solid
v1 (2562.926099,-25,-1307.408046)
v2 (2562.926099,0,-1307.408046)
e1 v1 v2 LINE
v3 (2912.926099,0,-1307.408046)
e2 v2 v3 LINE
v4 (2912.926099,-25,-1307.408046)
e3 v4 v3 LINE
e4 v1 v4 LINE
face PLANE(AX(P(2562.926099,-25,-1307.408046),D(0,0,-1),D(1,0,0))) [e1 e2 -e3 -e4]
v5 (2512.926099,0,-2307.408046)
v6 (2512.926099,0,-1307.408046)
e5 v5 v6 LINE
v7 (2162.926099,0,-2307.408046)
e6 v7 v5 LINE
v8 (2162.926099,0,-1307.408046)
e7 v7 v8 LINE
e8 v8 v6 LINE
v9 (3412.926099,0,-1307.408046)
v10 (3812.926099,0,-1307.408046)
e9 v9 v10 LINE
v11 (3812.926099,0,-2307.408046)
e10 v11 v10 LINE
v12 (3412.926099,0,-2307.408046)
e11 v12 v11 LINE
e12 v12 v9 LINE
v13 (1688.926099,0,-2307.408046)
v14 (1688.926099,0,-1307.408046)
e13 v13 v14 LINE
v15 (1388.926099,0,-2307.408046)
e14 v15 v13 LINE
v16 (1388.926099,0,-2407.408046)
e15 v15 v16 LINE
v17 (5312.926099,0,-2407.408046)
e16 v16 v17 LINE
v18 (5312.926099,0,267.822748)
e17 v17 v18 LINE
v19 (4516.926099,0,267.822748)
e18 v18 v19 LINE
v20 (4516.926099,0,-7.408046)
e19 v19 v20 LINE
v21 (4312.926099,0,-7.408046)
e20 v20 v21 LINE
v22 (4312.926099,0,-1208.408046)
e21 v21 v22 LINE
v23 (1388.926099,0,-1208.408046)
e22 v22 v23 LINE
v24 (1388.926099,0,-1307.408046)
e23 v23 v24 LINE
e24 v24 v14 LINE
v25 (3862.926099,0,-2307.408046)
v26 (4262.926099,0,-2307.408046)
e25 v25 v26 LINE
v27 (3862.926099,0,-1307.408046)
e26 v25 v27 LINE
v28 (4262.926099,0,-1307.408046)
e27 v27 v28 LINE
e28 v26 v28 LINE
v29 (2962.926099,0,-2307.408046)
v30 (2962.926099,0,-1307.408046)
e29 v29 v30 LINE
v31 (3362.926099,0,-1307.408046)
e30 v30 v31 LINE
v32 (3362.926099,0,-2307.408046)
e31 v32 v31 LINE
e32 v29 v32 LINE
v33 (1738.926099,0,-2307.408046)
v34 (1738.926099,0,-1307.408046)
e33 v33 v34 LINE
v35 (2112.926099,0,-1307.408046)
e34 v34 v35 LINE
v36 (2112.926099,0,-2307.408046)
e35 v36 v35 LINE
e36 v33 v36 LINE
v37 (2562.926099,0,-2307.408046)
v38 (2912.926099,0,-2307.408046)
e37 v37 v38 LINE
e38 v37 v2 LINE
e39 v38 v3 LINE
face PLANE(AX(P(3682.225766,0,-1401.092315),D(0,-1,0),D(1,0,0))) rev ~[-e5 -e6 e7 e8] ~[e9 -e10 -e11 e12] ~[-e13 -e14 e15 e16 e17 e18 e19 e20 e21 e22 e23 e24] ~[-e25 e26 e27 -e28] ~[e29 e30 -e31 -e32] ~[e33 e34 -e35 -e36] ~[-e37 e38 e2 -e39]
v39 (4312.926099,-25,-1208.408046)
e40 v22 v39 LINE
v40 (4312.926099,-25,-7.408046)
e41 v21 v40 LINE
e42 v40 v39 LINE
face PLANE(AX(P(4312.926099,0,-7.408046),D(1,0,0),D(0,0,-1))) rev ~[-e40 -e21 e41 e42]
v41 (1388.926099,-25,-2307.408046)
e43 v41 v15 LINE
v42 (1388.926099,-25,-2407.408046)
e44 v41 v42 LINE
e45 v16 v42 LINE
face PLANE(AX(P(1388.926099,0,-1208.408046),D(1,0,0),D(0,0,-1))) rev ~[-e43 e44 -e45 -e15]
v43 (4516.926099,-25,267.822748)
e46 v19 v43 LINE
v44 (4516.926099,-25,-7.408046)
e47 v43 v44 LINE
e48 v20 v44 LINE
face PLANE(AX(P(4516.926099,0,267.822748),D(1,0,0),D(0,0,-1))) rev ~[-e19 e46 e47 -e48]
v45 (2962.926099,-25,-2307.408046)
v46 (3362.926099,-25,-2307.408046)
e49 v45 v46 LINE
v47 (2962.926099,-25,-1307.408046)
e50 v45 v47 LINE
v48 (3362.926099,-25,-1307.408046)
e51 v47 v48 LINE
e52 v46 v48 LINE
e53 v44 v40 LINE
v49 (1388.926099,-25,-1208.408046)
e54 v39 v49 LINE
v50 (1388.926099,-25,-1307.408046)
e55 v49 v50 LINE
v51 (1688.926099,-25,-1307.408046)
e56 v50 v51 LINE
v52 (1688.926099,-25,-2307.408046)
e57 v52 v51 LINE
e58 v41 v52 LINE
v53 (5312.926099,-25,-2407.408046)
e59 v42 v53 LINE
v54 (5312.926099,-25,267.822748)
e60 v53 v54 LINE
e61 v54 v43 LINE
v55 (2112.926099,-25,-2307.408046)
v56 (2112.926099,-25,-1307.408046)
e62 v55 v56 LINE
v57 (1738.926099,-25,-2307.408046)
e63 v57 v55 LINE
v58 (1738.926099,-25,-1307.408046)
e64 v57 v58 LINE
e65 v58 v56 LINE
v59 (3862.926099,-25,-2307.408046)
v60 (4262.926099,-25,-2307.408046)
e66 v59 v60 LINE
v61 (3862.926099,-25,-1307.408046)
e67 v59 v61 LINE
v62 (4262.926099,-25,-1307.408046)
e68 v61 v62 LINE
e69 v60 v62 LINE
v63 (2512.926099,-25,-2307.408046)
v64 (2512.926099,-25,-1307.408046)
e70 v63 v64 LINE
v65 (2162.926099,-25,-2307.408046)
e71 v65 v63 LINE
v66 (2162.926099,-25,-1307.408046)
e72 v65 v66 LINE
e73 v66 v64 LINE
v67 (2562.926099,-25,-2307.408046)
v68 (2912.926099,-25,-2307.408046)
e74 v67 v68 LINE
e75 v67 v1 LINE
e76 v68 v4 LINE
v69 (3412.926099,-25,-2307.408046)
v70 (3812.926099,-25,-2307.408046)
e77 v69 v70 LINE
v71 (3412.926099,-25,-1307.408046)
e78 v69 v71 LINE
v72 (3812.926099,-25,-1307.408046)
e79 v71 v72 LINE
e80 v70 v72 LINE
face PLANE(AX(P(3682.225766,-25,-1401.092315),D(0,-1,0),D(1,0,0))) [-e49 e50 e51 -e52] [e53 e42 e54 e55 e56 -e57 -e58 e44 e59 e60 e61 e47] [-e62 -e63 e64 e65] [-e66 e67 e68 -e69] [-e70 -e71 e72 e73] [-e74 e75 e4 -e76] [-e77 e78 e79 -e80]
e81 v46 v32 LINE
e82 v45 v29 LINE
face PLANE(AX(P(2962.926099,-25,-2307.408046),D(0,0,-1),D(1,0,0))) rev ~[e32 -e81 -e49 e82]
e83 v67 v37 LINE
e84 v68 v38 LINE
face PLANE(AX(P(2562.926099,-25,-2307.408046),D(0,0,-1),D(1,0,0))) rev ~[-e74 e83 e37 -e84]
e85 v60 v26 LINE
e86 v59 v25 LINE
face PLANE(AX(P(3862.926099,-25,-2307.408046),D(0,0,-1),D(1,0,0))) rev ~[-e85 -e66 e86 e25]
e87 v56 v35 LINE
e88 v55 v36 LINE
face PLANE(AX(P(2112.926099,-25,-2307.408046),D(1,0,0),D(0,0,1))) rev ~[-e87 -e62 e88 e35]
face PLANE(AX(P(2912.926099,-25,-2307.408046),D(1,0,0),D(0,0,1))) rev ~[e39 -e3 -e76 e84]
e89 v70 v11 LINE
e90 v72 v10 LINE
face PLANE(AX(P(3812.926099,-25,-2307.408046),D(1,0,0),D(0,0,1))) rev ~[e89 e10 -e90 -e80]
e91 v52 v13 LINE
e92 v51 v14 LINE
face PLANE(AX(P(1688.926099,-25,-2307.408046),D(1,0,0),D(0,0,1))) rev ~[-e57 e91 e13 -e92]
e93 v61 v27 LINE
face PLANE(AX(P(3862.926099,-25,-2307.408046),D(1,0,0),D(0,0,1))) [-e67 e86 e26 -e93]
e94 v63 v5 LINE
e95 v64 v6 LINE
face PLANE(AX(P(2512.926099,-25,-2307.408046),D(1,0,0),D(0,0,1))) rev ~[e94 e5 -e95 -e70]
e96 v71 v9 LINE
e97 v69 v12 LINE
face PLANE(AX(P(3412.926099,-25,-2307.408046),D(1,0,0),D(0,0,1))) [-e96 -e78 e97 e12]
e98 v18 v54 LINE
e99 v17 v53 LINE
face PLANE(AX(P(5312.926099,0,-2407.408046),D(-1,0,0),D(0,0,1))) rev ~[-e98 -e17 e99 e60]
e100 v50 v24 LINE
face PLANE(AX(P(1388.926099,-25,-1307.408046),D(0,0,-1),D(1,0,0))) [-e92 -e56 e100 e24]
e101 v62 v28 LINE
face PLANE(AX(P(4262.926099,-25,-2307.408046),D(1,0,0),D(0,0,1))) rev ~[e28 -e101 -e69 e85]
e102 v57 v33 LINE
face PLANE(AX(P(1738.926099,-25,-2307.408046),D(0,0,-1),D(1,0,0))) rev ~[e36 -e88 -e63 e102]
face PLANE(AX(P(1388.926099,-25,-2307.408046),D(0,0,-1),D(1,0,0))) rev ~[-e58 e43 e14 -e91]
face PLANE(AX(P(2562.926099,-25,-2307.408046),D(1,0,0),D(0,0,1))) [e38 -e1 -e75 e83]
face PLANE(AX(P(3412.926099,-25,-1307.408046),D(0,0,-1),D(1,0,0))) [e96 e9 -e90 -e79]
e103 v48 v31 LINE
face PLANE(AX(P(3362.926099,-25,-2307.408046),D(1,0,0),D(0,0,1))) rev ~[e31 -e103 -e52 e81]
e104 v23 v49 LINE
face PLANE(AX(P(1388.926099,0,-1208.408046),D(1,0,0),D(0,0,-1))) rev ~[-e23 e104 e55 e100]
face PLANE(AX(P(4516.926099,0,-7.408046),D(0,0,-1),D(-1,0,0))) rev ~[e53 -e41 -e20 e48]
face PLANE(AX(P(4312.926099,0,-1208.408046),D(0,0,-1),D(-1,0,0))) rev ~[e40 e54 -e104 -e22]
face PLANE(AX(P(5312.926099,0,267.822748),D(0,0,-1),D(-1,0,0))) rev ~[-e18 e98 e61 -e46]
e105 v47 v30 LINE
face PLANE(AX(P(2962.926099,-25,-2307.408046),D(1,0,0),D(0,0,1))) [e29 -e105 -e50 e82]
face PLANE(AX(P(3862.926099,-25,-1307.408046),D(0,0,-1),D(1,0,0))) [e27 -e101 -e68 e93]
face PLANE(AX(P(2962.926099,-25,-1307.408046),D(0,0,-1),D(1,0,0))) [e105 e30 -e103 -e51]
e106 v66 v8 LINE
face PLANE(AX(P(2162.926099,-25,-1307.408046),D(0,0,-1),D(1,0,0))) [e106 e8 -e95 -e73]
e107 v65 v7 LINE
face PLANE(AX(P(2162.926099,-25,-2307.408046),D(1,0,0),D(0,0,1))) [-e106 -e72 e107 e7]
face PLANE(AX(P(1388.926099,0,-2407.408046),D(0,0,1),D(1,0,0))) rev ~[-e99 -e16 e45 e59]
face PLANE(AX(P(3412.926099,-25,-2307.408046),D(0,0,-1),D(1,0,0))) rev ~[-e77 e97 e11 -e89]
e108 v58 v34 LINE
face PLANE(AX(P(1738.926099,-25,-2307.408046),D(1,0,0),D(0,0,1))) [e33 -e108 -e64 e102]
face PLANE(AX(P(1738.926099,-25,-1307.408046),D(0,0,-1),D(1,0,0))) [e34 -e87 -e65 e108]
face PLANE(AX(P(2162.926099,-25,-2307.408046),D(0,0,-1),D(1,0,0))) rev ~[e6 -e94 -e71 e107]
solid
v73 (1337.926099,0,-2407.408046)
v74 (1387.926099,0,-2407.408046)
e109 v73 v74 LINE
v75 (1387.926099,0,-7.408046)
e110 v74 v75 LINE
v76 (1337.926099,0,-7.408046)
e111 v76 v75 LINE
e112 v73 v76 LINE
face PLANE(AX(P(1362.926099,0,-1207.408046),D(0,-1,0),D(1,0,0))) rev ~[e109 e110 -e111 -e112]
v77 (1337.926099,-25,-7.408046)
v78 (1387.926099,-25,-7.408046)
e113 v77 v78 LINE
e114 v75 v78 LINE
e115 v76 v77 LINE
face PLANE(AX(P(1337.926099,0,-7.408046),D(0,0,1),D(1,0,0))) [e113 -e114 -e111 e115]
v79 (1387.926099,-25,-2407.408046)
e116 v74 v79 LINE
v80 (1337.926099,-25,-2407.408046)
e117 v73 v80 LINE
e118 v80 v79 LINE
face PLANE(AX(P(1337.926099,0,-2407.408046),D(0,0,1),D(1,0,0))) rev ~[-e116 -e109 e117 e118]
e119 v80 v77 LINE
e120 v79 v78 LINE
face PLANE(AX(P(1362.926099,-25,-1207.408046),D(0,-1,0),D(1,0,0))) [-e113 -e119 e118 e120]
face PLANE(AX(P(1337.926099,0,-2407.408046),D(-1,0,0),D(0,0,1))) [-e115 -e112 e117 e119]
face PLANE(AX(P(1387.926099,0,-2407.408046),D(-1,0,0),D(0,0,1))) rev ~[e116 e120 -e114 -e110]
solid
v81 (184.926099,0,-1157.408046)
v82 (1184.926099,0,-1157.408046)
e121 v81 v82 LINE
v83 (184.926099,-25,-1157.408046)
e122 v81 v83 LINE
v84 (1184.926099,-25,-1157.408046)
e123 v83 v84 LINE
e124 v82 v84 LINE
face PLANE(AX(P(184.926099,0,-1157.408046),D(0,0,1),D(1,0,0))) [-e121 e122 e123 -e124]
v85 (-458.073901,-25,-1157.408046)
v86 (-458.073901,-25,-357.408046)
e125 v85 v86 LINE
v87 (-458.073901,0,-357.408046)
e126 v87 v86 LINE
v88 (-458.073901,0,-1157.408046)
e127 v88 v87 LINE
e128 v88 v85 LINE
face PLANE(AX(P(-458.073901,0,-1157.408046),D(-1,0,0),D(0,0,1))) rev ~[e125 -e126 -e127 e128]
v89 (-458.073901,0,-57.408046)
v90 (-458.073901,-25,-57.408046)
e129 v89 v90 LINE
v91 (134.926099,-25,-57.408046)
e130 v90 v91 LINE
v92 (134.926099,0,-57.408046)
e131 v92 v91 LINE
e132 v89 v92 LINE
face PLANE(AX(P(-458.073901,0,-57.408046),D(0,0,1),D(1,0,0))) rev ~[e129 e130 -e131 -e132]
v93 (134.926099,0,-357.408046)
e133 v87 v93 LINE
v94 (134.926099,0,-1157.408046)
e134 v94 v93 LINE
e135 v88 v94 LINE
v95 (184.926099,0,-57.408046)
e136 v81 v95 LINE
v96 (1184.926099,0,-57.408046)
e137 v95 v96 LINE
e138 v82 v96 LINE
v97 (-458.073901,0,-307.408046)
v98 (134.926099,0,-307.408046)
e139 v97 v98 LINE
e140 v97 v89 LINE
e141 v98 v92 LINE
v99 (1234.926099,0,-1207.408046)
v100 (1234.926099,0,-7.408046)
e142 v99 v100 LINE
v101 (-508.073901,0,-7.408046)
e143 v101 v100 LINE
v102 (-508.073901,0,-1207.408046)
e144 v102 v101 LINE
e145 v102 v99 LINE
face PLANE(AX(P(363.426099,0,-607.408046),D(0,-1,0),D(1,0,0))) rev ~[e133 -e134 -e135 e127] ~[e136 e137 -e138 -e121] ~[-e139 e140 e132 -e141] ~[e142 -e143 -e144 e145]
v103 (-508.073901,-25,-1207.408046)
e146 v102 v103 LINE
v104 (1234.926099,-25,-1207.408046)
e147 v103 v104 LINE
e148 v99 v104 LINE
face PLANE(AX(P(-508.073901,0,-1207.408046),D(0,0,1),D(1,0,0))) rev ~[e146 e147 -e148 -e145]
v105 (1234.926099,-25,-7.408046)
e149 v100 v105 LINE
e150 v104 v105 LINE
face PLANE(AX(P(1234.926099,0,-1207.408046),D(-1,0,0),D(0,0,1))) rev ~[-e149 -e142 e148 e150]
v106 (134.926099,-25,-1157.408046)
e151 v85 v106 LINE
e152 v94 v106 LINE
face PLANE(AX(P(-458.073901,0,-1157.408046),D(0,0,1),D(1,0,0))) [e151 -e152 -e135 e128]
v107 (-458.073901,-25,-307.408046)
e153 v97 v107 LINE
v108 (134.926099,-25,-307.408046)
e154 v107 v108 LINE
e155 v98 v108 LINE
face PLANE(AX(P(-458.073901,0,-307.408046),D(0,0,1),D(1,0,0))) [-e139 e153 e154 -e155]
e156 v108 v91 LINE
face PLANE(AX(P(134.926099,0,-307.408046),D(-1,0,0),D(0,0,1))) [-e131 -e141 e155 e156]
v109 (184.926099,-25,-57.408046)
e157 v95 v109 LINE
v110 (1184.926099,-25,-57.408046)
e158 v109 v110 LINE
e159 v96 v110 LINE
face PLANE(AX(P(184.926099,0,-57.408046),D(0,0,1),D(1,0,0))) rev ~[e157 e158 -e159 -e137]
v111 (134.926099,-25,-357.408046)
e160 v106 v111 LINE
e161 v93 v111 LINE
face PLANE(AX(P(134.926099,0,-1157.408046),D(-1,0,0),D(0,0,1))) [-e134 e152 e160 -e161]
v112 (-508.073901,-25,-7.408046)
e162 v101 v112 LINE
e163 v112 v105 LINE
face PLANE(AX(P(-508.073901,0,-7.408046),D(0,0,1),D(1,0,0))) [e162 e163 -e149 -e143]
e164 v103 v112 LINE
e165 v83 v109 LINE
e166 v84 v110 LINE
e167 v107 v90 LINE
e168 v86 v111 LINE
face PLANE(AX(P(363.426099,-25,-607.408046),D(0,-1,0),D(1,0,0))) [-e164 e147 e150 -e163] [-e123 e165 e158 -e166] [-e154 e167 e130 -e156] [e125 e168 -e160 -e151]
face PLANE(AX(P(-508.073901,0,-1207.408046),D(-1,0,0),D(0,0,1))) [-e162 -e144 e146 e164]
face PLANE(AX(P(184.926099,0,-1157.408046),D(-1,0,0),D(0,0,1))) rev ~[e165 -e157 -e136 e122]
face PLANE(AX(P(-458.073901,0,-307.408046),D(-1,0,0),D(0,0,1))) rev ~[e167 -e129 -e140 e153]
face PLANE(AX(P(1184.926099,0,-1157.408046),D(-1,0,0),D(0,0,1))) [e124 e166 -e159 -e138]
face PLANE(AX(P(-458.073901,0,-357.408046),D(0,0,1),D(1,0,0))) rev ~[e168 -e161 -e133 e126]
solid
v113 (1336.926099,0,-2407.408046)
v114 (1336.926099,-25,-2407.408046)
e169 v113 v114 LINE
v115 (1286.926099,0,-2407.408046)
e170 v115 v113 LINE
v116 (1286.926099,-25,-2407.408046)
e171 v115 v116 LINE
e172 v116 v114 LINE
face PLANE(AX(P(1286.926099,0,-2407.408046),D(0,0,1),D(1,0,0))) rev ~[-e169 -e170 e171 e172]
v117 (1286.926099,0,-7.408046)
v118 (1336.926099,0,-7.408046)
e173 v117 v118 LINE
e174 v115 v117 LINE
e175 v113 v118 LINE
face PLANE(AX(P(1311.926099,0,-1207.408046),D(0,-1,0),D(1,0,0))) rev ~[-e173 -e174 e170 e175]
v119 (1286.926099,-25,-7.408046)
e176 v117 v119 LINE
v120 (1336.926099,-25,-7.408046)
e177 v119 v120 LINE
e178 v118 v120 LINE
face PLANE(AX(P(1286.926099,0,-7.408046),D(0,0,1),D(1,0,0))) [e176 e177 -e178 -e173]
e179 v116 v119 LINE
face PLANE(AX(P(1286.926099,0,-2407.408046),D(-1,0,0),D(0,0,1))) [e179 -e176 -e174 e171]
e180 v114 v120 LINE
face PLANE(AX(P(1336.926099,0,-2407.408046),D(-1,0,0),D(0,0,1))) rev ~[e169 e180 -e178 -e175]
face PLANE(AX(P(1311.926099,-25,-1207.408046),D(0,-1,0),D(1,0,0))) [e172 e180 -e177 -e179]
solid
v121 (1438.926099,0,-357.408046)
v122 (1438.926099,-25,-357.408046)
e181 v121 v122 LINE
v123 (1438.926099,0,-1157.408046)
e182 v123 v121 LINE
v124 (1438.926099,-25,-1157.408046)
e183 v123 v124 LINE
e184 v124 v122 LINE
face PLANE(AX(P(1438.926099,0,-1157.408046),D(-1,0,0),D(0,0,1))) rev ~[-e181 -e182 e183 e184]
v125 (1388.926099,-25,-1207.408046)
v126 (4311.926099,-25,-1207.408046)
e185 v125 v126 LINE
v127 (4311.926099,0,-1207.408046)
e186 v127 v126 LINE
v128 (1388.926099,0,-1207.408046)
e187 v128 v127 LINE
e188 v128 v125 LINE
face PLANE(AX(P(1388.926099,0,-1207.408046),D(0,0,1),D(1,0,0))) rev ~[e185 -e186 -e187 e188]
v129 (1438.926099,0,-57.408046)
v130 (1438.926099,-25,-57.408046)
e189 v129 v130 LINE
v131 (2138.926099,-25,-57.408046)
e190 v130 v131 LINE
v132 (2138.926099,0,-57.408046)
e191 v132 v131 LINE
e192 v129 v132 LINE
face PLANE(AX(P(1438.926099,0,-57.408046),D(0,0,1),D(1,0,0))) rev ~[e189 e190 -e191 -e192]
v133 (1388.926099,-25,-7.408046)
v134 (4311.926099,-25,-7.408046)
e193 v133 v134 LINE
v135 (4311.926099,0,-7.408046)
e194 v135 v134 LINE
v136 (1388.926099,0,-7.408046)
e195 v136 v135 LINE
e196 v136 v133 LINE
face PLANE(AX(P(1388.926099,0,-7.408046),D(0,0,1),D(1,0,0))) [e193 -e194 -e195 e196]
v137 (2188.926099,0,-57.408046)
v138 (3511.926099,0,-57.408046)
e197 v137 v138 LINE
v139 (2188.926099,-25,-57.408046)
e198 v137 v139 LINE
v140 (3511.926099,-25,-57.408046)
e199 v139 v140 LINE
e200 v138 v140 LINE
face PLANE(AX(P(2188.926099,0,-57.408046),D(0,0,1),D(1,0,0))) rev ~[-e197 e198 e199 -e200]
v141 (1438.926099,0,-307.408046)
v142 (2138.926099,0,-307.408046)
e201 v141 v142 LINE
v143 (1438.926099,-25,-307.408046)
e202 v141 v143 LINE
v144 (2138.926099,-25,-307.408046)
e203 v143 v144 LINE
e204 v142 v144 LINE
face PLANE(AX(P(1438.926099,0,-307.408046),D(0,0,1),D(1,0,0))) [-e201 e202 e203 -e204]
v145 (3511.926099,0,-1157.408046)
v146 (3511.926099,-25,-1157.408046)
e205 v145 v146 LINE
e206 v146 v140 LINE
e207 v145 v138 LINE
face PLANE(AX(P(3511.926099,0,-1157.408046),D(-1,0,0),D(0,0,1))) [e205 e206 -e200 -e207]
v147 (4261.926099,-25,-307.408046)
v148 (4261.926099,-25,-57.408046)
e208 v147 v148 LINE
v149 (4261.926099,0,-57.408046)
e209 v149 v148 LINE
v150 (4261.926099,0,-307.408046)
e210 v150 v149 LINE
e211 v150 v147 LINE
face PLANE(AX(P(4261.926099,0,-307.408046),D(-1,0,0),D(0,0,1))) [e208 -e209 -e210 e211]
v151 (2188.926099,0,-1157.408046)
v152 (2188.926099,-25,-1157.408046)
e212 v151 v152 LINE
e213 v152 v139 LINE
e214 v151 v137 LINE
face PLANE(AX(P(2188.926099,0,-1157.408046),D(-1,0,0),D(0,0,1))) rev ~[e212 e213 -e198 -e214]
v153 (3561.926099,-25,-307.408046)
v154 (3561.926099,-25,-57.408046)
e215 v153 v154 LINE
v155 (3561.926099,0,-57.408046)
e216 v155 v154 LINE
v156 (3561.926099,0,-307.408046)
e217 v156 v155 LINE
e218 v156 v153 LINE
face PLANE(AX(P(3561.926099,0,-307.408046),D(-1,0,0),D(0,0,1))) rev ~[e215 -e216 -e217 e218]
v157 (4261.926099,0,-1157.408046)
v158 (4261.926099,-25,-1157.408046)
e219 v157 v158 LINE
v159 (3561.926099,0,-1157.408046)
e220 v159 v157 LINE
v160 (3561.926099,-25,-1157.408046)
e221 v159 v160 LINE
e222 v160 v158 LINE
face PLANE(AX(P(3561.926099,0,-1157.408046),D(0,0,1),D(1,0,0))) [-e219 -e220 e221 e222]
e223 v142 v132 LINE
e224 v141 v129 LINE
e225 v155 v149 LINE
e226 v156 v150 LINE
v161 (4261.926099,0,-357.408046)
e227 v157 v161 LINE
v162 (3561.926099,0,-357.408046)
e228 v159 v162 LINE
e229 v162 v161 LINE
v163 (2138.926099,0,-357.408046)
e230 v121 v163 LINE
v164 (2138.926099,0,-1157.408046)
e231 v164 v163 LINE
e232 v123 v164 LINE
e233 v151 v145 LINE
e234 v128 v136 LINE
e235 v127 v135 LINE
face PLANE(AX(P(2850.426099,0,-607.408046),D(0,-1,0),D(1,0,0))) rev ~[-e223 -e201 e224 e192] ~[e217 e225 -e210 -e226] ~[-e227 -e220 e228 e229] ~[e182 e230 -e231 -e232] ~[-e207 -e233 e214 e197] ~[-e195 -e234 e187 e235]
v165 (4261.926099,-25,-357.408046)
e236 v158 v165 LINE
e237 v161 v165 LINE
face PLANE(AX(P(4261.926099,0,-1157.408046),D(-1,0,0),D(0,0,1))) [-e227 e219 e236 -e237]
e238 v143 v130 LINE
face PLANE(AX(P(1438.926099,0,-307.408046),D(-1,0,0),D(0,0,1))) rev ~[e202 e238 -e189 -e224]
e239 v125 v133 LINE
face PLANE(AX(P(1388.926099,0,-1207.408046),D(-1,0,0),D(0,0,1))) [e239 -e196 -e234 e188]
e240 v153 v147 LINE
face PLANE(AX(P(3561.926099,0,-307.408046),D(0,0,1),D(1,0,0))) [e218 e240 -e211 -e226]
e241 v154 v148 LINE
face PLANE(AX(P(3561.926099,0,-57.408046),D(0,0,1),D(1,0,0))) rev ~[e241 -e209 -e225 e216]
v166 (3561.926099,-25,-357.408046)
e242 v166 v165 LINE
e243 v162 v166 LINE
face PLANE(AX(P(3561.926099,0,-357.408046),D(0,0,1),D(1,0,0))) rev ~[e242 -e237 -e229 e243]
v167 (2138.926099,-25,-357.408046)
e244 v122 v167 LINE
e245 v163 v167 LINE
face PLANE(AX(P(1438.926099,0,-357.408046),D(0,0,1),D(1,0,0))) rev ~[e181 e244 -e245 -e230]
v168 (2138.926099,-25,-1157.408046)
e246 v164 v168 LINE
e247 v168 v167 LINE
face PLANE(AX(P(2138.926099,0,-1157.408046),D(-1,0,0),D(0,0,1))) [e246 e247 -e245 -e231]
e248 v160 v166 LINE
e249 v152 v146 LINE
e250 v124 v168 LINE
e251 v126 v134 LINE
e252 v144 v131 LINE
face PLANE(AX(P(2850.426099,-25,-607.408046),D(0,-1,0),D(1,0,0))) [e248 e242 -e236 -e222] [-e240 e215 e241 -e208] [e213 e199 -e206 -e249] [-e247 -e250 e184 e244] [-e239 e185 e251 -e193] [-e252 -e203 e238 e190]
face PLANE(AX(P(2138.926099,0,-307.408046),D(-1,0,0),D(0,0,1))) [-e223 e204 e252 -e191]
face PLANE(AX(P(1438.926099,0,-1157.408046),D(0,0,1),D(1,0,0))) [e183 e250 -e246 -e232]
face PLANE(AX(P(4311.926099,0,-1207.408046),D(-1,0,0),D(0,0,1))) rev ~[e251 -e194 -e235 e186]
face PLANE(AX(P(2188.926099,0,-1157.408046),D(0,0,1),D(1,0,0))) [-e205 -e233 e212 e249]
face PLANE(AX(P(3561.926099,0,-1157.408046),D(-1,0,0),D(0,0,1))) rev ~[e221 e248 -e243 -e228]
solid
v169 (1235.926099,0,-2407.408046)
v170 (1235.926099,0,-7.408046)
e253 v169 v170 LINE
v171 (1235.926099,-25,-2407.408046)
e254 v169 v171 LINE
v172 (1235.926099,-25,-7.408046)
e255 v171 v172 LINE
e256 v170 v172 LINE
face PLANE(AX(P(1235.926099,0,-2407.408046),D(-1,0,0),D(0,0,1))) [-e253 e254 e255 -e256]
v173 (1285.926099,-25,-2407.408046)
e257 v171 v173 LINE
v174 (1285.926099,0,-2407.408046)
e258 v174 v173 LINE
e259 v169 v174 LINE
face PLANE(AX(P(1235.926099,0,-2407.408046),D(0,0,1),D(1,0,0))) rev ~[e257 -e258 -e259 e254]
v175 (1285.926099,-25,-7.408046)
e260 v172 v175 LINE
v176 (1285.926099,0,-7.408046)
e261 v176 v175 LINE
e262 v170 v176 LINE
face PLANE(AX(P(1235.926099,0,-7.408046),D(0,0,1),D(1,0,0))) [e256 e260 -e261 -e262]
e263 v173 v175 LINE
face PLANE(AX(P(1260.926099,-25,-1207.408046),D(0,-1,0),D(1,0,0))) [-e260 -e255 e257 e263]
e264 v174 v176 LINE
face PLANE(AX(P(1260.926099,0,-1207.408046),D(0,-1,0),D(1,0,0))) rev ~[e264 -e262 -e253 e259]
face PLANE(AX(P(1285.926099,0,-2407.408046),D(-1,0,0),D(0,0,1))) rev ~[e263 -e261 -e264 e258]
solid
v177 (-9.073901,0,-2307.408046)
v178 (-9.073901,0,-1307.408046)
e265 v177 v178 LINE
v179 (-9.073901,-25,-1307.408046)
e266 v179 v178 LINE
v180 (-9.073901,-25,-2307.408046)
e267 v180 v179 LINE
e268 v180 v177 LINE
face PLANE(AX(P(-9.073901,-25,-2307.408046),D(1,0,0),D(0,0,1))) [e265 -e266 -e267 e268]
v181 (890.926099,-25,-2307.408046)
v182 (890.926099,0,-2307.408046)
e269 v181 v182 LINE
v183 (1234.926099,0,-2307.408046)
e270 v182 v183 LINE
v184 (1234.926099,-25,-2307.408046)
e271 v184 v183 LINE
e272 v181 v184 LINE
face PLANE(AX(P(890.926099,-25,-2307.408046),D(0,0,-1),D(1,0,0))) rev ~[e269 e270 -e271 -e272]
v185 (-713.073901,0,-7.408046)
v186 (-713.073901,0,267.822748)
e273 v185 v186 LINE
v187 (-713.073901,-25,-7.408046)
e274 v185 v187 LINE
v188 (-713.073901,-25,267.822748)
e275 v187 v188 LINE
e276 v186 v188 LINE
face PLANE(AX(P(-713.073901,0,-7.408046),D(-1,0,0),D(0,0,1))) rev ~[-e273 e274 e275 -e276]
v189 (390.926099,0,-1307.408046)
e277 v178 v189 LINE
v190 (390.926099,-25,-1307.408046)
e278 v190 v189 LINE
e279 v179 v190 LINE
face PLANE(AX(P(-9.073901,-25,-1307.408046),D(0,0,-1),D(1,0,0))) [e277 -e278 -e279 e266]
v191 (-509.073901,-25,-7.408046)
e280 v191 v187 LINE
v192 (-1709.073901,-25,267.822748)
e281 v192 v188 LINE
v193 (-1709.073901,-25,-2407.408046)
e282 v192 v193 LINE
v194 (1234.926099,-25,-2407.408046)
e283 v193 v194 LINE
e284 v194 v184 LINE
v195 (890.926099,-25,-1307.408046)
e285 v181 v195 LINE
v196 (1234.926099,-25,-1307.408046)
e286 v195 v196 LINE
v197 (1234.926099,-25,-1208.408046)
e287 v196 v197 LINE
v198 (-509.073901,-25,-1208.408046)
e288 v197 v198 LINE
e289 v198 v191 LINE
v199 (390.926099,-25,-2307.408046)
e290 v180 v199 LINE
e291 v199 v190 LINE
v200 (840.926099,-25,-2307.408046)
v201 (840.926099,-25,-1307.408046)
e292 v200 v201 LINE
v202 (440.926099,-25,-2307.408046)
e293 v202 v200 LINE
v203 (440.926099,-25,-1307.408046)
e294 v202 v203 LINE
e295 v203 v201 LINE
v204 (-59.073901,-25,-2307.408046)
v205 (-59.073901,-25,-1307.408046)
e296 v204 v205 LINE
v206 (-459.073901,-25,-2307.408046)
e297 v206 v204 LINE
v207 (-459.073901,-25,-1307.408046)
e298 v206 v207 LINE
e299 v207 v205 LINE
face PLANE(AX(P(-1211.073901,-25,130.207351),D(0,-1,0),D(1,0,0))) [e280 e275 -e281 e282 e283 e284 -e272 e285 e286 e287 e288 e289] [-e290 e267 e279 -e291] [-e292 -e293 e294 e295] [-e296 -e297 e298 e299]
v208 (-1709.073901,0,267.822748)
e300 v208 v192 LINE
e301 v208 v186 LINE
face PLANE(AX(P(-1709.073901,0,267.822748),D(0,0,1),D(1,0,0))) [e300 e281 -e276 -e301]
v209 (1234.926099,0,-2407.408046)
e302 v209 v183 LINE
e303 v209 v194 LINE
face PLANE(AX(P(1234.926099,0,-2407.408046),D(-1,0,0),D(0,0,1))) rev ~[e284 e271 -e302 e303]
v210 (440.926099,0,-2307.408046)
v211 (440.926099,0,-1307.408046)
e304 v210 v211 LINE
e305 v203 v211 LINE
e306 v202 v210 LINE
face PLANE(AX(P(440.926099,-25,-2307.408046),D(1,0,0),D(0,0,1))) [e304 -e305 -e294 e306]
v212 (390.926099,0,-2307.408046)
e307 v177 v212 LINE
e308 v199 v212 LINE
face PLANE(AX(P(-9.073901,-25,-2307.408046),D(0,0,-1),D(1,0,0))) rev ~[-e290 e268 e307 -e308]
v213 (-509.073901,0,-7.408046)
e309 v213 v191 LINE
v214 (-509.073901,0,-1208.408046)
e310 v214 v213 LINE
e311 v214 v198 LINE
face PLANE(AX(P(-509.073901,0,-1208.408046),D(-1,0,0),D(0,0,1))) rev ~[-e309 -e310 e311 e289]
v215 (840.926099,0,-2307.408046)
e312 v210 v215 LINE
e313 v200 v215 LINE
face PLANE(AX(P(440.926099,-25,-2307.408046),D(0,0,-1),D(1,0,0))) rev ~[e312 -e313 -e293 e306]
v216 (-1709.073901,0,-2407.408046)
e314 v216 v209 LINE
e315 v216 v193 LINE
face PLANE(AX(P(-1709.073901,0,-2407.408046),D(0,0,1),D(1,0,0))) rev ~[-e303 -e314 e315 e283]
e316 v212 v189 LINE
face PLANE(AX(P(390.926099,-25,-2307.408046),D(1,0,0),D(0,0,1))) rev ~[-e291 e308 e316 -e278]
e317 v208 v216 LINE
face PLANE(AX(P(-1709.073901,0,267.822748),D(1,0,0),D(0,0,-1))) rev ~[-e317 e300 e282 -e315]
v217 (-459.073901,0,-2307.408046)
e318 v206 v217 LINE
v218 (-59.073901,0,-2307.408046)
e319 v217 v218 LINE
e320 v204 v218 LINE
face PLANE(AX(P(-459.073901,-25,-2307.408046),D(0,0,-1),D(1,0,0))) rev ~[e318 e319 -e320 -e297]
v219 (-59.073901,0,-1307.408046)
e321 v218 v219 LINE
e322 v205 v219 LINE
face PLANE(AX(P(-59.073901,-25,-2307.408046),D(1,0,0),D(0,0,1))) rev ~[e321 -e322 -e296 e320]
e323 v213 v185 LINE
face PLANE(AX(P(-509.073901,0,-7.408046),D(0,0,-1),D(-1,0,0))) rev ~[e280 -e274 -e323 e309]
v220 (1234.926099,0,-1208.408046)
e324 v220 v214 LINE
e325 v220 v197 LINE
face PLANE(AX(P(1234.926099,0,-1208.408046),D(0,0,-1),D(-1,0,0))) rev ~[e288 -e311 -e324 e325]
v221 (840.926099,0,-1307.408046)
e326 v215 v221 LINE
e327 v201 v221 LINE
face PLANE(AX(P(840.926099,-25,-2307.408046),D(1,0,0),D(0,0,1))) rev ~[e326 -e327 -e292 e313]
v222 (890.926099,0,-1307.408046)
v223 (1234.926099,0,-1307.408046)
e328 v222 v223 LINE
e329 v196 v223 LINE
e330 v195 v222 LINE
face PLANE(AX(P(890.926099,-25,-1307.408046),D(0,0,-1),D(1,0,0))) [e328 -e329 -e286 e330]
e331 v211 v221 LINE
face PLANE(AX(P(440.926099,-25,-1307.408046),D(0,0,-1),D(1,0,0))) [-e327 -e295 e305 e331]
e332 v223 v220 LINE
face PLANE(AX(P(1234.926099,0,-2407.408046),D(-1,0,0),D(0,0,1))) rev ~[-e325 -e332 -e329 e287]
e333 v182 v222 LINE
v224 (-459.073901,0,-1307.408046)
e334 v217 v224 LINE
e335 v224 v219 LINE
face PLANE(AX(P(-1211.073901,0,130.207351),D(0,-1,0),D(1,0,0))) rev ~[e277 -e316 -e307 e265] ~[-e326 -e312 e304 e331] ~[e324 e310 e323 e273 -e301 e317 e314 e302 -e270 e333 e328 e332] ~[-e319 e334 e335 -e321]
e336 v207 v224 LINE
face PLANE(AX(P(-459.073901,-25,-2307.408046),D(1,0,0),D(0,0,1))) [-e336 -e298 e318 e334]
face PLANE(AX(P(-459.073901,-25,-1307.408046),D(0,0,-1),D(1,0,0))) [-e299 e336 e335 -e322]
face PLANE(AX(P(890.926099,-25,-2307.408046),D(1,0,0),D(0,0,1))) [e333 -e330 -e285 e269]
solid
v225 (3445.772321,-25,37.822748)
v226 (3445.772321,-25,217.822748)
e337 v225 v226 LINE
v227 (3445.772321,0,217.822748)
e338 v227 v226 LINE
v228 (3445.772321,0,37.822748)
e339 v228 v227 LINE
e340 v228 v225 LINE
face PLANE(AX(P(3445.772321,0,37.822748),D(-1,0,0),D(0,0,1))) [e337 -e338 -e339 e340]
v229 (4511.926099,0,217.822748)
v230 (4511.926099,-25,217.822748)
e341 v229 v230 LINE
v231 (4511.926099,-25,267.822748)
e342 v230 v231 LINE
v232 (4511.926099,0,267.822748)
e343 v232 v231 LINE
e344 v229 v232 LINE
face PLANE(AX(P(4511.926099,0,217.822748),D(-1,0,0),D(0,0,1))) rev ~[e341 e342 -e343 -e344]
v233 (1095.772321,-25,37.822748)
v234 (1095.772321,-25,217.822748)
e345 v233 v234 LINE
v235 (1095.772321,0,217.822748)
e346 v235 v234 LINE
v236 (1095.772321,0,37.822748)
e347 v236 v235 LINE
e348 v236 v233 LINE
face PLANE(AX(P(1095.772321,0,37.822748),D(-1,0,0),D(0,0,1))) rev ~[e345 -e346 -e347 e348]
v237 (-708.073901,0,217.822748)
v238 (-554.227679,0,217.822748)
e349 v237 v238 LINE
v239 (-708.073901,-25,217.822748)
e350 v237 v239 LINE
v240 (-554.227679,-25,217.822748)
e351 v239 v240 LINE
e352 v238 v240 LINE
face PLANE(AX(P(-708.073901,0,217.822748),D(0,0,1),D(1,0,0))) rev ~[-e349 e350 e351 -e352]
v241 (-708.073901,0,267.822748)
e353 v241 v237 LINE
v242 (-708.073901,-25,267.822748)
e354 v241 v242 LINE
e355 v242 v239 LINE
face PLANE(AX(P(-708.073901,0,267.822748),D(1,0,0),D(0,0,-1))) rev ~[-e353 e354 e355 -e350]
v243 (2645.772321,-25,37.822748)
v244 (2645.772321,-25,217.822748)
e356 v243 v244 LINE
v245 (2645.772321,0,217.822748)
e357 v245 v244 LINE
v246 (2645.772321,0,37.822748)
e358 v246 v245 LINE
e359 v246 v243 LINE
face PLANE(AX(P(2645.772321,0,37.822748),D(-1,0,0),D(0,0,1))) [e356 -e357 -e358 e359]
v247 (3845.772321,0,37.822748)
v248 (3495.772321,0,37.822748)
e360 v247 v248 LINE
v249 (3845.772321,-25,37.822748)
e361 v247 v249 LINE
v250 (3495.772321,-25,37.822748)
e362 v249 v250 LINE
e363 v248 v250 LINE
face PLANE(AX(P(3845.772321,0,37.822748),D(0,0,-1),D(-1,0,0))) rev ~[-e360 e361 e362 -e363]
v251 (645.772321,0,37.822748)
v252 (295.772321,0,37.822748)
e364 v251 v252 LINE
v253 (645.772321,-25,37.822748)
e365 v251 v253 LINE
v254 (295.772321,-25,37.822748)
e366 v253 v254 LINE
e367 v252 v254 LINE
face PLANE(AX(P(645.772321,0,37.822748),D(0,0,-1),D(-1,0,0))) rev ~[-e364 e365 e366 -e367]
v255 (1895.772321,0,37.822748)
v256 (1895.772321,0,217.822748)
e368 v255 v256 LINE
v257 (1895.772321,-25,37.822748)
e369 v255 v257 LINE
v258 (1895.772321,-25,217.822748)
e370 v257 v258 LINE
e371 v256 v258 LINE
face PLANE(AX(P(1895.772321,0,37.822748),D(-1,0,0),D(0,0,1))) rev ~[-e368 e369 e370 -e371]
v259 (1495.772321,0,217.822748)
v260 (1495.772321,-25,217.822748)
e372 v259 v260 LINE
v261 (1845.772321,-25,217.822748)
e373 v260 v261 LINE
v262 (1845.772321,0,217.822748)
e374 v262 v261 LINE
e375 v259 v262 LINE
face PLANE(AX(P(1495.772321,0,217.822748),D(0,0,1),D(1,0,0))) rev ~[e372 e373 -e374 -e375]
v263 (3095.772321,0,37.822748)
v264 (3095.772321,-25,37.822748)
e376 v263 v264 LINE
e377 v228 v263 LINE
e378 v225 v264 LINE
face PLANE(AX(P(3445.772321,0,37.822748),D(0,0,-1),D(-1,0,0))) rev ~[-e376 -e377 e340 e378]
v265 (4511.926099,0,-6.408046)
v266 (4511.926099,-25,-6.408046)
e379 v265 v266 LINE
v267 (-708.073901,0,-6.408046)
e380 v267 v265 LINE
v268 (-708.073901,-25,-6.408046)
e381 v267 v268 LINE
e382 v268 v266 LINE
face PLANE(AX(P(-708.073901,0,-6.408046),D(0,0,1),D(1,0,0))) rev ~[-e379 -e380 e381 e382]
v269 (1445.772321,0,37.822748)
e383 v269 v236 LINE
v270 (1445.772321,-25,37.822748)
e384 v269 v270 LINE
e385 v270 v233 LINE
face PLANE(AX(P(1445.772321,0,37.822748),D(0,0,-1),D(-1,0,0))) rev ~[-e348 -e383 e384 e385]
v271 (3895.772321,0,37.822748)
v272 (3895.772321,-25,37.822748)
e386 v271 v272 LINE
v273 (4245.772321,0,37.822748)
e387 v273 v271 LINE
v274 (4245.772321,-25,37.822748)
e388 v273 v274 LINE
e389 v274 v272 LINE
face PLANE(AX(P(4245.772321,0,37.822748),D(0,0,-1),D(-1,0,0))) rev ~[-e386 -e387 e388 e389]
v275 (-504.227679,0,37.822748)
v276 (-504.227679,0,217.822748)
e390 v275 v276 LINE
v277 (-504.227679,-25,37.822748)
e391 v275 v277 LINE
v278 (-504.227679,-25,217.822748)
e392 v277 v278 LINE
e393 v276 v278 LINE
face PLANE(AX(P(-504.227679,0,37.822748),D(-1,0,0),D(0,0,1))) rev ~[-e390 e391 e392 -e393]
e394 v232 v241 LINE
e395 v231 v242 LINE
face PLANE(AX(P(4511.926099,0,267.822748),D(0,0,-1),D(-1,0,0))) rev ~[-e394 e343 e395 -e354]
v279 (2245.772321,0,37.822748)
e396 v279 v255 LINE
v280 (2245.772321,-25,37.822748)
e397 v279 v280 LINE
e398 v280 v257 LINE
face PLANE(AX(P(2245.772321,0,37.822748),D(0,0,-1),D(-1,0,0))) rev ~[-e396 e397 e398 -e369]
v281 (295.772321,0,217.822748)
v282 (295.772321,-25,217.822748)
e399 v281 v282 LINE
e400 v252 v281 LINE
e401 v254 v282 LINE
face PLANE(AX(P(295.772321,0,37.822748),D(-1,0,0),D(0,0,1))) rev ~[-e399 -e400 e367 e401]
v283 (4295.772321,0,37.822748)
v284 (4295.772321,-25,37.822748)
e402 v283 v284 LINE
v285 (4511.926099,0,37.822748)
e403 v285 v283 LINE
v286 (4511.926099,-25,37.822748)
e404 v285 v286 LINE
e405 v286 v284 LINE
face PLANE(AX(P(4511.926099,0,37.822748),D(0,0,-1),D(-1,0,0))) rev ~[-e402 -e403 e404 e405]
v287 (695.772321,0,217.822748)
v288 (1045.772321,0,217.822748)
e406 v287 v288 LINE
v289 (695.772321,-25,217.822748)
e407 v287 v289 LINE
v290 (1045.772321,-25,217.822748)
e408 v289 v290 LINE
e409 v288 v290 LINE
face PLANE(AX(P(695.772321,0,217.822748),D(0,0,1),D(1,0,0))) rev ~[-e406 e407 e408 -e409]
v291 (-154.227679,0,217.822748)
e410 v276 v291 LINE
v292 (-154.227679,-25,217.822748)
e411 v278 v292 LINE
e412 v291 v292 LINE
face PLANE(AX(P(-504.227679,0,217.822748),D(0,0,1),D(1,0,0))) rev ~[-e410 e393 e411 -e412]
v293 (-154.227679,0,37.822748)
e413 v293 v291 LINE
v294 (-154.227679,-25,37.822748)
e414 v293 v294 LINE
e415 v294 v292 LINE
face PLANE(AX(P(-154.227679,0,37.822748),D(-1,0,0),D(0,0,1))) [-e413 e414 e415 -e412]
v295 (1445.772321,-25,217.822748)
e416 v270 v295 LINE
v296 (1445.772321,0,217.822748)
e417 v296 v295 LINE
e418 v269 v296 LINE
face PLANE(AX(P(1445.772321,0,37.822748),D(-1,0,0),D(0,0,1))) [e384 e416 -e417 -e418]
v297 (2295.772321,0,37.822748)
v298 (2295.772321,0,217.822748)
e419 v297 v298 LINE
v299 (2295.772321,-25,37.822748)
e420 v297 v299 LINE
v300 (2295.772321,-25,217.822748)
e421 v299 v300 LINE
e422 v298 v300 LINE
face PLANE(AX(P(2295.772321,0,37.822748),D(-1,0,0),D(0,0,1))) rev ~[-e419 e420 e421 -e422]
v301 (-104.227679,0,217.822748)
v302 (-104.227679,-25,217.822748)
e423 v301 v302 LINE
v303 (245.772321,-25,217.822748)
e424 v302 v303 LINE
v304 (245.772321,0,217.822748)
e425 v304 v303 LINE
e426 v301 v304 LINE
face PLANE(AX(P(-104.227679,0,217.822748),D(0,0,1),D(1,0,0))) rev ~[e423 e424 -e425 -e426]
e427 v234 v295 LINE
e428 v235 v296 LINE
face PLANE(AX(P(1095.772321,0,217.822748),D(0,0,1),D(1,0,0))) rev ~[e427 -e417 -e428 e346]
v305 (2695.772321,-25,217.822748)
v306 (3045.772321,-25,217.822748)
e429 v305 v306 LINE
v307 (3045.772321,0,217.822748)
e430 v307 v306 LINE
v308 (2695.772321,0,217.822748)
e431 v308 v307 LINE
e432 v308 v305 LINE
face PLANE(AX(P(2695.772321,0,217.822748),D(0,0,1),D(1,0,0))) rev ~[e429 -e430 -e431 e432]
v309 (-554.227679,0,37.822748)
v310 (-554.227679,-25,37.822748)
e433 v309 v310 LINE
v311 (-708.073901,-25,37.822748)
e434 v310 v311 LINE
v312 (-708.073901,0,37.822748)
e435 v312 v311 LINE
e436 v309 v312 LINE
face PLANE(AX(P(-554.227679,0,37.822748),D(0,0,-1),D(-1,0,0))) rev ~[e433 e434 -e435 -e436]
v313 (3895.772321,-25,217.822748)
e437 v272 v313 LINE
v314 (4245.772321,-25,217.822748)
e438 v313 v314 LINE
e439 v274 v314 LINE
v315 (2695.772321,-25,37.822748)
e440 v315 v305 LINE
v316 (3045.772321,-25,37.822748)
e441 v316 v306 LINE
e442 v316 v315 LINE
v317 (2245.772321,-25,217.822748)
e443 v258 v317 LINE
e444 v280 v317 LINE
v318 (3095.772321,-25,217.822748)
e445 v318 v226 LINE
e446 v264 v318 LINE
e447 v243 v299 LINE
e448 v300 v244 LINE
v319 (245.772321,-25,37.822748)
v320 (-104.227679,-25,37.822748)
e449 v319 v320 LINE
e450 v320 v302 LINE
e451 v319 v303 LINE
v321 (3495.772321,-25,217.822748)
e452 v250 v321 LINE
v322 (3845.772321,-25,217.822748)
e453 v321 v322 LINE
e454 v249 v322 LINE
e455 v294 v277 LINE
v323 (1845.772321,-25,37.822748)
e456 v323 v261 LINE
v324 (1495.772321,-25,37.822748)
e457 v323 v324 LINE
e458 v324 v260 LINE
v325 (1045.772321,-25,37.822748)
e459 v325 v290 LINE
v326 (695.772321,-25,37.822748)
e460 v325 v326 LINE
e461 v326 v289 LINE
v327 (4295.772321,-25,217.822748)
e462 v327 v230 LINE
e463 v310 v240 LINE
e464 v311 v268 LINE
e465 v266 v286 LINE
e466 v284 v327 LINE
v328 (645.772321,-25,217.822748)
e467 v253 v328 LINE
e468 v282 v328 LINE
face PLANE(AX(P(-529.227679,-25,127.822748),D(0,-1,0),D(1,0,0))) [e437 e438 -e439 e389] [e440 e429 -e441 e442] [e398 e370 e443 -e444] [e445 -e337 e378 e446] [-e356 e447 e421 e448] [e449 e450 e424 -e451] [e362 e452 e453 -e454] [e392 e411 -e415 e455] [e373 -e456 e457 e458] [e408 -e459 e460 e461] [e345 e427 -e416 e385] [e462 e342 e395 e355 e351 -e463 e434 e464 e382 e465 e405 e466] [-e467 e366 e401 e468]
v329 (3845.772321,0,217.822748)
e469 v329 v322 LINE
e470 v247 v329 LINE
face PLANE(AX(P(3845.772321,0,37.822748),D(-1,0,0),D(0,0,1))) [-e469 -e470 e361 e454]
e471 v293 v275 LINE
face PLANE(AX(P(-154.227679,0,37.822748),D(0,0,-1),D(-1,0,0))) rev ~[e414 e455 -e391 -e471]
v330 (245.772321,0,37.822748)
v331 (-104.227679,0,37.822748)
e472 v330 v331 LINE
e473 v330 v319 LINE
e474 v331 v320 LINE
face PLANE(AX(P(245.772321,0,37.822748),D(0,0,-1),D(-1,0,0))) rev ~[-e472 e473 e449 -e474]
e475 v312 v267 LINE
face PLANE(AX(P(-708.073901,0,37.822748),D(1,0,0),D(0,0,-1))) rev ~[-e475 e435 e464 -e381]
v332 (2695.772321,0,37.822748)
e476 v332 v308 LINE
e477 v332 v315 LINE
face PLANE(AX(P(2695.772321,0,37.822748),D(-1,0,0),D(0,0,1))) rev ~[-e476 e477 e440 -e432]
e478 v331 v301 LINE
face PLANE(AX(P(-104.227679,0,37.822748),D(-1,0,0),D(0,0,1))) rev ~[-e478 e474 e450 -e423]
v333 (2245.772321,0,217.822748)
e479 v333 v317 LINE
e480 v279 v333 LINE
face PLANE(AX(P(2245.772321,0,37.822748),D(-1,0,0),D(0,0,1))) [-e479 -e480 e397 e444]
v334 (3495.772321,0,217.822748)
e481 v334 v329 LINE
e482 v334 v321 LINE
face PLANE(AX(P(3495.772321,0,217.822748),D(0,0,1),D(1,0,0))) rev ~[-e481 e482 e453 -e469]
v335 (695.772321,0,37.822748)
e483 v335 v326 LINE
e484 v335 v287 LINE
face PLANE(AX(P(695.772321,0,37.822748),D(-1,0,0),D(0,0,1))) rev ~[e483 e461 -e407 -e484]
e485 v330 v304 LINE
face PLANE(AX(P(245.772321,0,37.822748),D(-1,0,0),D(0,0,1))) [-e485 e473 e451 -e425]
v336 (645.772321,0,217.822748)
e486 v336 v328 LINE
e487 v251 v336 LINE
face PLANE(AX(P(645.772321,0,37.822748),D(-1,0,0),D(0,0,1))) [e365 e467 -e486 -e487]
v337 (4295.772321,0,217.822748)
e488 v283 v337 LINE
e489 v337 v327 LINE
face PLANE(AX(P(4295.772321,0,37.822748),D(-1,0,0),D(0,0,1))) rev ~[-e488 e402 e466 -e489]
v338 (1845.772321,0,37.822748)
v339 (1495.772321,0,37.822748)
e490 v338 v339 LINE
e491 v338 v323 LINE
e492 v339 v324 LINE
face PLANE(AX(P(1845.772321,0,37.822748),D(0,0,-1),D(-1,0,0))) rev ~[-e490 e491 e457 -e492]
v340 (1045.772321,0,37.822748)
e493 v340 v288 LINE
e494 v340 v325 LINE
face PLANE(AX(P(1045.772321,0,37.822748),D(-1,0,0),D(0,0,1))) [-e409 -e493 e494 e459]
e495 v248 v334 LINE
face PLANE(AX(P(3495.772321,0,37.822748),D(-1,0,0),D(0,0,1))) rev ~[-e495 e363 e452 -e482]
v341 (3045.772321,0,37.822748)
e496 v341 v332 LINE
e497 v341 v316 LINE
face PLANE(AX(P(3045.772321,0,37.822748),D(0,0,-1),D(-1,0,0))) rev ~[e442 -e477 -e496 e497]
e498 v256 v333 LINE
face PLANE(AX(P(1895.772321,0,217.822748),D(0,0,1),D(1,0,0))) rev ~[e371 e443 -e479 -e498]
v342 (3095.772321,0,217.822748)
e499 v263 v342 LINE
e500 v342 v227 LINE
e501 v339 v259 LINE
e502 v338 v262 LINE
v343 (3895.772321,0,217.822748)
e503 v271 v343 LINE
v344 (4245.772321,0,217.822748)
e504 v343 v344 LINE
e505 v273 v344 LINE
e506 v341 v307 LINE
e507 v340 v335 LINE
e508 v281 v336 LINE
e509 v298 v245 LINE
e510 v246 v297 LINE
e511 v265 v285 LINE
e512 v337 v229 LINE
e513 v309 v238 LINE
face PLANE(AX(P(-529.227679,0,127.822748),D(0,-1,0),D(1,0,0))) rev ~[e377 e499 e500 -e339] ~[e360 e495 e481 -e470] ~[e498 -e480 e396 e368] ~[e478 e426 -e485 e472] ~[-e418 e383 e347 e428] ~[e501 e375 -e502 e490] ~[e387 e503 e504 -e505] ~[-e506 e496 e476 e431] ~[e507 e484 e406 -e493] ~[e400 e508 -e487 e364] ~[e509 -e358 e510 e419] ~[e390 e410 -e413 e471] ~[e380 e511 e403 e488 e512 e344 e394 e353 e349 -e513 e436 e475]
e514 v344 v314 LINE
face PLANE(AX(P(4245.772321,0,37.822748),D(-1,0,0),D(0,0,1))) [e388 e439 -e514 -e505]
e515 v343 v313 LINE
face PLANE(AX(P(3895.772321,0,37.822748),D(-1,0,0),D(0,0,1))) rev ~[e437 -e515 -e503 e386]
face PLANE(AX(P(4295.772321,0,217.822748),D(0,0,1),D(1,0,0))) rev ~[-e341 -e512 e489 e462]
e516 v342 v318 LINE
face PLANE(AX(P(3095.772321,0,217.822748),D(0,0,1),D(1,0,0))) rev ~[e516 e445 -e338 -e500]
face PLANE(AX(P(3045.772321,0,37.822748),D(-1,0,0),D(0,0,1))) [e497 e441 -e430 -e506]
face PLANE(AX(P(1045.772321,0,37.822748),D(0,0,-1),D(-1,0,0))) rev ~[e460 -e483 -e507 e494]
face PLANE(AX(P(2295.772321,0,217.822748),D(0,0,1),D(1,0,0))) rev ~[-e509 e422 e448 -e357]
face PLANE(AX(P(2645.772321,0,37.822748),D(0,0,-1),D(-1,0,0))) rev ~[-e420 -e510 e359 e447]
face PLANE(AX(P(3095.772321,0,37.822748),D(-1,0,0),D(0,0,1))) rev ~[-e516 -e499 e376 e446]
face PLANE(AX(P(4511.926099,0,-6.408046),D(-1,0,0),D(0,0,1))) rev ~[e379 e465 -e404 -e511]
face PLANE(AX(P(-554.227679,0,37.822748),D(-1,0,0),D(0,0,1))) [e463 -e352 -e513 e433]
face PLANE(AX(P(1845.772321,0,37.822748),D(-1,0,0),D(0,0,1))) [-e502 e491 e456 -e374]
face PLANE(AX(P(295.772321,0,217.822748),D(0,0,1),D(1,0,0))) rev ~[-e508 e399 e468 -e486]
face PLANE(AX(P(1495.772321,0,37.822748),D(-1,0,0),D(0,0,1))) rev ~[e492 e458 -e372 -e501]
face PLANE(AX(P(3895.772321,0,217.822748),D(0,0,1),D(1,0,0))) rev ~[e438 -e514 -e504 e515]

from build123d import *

# Parameters (mm, degrees)
F0_W      = 50
F0_H      = 180
F1_DEPTH  = 25
F2_W      = 50
F2_H      = 2400
F3_DEPTH  = 25
F4_W      = 1743
F4_H      = 1200
F4_W_2    = 593
F4_H_2    = 800
F4_W_3    = 1000
F4_H_3    = 1100
F4_H_4    = 250
F5_DEPTH  = 25
F6_W      = 996
F6_H      = 275.2307936182
F7_DEPTH  = 25
F8_W      = 2923
F8_H      = 1200
F8_W_2    = 700
F8_H_2    = 800
F8_H_3    = 250
F8_W_3    = 1323
F8_H_4    = 1100
F9_DEPTH  = 25
F11_DEPTH = 25
F12_W     = 400
F12_H     = 1000
F12_W_2   = 344
F12_W_3   = 374
F12_W_4   = 350
F12_W_5   = 300
F13_DEPTH = 25


with BuildPart() as f1:
    # F0 (on Front) → F1 (new body)
    with BuildSketch(Plane.XZ):
        with Locations((-529.2276785159, 127.8227480803)):
            Rectangle(F0_W, F0_H)
        Polygon((4511.9260993531, 267.8227480803), (-708.0739006469, 267.8227480803), (-708.0739006469, 217.8227480803), (-554.2276785159, 217.8227480803), (-504.2276785159, 217.8227480803), (-154.2276785159, 217.8227480803), (-104.2276785159, 217.8227480803), (245.7723214841, 217.8227480803), (295.7723214841, 217.8227480803), (645.7723214841, 217.8227480803), (695.7723214841, 217.8227480803), (1045.7723214841, 217.8227480803), (1095.7723214841, 217.8227480803), (1445.7723214841, 217.8227480803), (1495.7723214841, 217.8227480803), (1845.7723214841, 217.8227480803), (1895.7723214841, 217.8227480803), (2245.7723214841, 217.8227480803), (2295.7723214841, 217.8227480803), (2645.7723214841, 217.8227480803), (2695.7723214841, 217.8227480803), (3045.7723214841, 217.8227480803), (3095.7723214841, 217.8227480803), (3445.7723214841, 217.8227480803), (3495.7723214841, 217.8227480803), (3845.7723214841, 217.8227480803), (3895.7723214841, 217.8227480803), (4245.7723214841, 217.8227480803), (4295.7723214841, 217.8227480803), (4511.9260993531, 217.8227480803), align=None)
        Polygon((-504.2276785159, 37.8227480803), (-554.2276785159, 37.8227480803), (-708.0739006469, 37.8227480803), (-708.0739006469, -6.4080455378), (4511.9260993531, -6.4080455378), (4511.9260993531, 37.8227480803), (4295.7723214841, 37.8227480803), (4245.7723214841, 37.8227480803), (3895.7723214841, 37.8227480803), (3845.7723214841, 37.8227480803), (3495.7723214841, 37.8227480803), (3445.7723214841, 37.8227480803), (3095.7723214841, 37.8227480803), (3045.7723214841, 37.8227480803), (2695.7723214841, 37.8227480803), (2645.7723214841, 37.8227480803), (2295.7723214841, 37.8227480803), (2245.7723214841, 37.8227480803), (1895.7723214841, 37.8227480803), (1845.7723214841, 37.8227480803), (1495.7723214841, 37.8227480803), (1445.7723214841, 37.8227480803), (1095.7723214841, 37.8227480803), (1045.7723214841, 37.8227480803), (695.7723214841, 37.8227480803), (645.7723214841, 37.8227480803), (295.7723214841, 37.8227480803), (245.7723214841, 37.8227480803), (-104.2276785159, 37.8227480803), (-154.2276785159, 37.8227480803), align=None)
        with Locations((-129.2276785159, 127.8227480803)):
            Rectangle(F0_W, F0_H)
        with Locations((270.7723214841, 127.8227480803)):
            Rectangle(F0_W, F0_H)
        with Locations((670.7723214841, 127.8227480803)):
            Rectangle(F0_W, F0_H)
        with Locations((1070.7723214841, 127.8227480803)):
            Rectangle(F0_W, F0_H)
        with Locations((1470.7723214841, 127.8227480803)):
            Rectangle(F0_W, F0_H)
        with Locations((1870.7723214841, 127.8227480803)):
            Rectangle(F0_W, F0_H)
        with Locations((2270.7723214841, 127.8227480803)):
            Rectangle(F0_W, F0_H)
        with Locations((2670.7723214841, 127.8227480803)):
            Rectangle(F0_W, F0_H)
        with Locations((3070.7723214841, 127.8227480803)):
            Rectangle(F0_W, F0_H)
        with Locations((3470.7723214841, 127.8227480803)):
            Rectangle(F0_W, F0_H)
        with Locations((3870.7723214841, 127.8227480803)):
            Rectangle(F0_W, F0_H)
        with Locations((4270.7723214841, 127.8227480803)):
            Rectangle(F0_W, F0_H)
    extrude(amount=F1_DEPTH)


with BuildPart() as f3:
    # F2 (on Front) → F3 (new body)
    with BuildSketch(Plane.XZ):
        with Locations((1260.9260993531, -1207.4080455378)):
            Rectangle(F2_W, F2_H)
    extrude(amount=F3_DEPTH)


with BuildPart() as f3b:
    # F2 (on Front) → F3, piece 2 (new body)
    with BuildSketch(Plane.XZ):
        with Locations((1311.9260993531, -1207.4080455378)):
            Rectangle(F2_W, F2_H)
    extrude(amount=F3_DEPTH)


with BuildPart() as f3c:
    # F2 (on Front) → F3, piece 3 (new body)
    with BuildSketch(Plane.XZ):
        with Locations((1362.9260993531, -1207.4080455378)):
            Rectangle(F2_W, F2_H)
    extrude(amount=F3_DEPTH)


with BuildPart() as f5:
    # F4 (on Front) → F5 (new body)
    with BuildSketch(Plane.XZ):
        with Locations((363.4260993531, -607.4080455378)):
            Rectangle(F4_W, F4_H)
        with Locations((-161.5739006469, -757.4080455378)):
            Rectangle(F4_W_2, F4_H_2, mode=Mode.SUBTRACT)
        with Locations((684.9260993531, -607.4080455378)):
            Rectangle(F4_W_3, F4_H_3, mode=Mode.SUBTRACT)
        with Locations((-161.5739006469, -182.4080455378)):
            Rectangle(F4_W_2, F4_H_4, mode=Mode.SUBTRACT)
    extrude(amount=F5_DEPTH)


with BuildPart() as f7:
    # F6 (on Front) → F7 (new body)
    with BuildSketch(Plane.XZ):
        with Locations((-1211.0739006469, 130.2073512713)):
            Rectangle(F6_W, F6_H)
        Polygon((-713.0739006469, -7.4080455378), (-1709.0739006469, -7.4080455378), (-1709.0739006469, -2407.4080455378), (1234.9260993531, -2407.4080455378), (1234.9260993531, -1208.4080455378), (-509.0739006469, -1208.4080455378), (-509.0739006469, -7.4080455378), align=None)
    extrude(amount=F7_DEPTH)


with BuildPart() as f9:
    # F8 (on Front) → F9 (new body)
    with BuildSketch(Plane.XZ):
        with Locations((2850.4260993531, -607.4080455378)):
            Rectangle(F8_W, F8_H)
        with Locations((1788.9260993531, -757.4080455378)):
            Rectangle(F8_W_2, F8_H_2, mode=Mode.SUBTRACT)
        with Locations((3911.9260993531, -757.4080455378)):
            Rectangle(F8_W_2, F8_H_2, mode=Mode.SUBTRACT)
        with Locations((1788.9260993531, -182.4080455378)):
            Rectangle(F8_W_2, F8_H_3, mode=Mode.SUBTRACT)
        with Locations((2850.4260993531, -607.4080455378)):
            Rectangle(F8_W_3, F8_H_4, mode=Mode.SUBTRACT)
        with Locations((3911.9260993531, -182.4080455378)):
            Rectangle(F8_W_2, F8_H_3, mode=Mode.SUBTRACT)
    extrude(amount=F9_DEPTH)


with BuildPart() as f11:
    # F10 (on Front) → F11 (new body)
    with BuildSketch(Plane.XZ):
        Polygon((4312.9260993531, -1208.4080455378), (1388.9260993531, -1208.4080455378), (1388.9260993531, -2407.4080455378), (5312.9260993531, -2407.4080455378), (5312.9260993531, 267.8227480803), (4516.9260993531, 267.8227480803), (4516.9260993531, -7.4080455378), (4312.9260993531, -7.4080455378), align=None)
    extrude(amount=F11_DEPTH)


with BuildPart() as f13_tool:
    # F12 (on face) → F13 (new body)
    with BuildSketch(Plane.XZ.offset(25)):
        with Locations((190.9260993531, -1807.4080455378)):
            Rectangle(F12_W, F12_H)
        with Locations((-259.0739006469, -1807.4080455378)):
            Rectangle(F12_W, F12_H)
        with Locations((640.9260993531, -1807.4080455378)):
            Rectangle(F12_W, F12_H)
        with Locations((1062.9260993531, -1807.4080455378)):
            Rectangle(F12_W_2, F12_H)
        with Locations((1925.9260993531, -1807.4080455378)):
            Rectangle(F12_W_3, F12_H)
        with Locations((2337.9260993531, -1807.4080455378)):
            Rectangle(F12_W_4, F12_H)
        with Locations((2737.9260993531, -1807.4080455378)):
            Rectangle(F12_W_4, F12_H)
        with Locations((3162.9260993531, -1807.4080455378)):
            Rectangle(F12_W, F12_H)
        with Locations((3612.9260993531, -1807.4080455378)):
            Rectangle(F12_W, F12_H)
        with Locations((4062.9260993531, -1807.4080455378)):
            Rectangle(F12_W, F12_H)
        with Locations((1538.9260993531, -1807.4080455378)):
            Rectangle(F12_W_5, F12_H)
    extrude(amount=-F13_DEPTH)


with BuildPart() as f7_1:
    add(f7.part)

    # F13: cut by f13_tool
    add(f13_tool.part, mode=Mode.SUBTRACT)


with BuildPart() as f11_1:
    add(f11.part)

    # F13: cut by f13_tool
    add(f13_tool.part, mode=Mode.SUBTRACT)


solid = Compound([f1.part, f3.part, f3b.part, f3c.part, f5.part, f9.part, f7_1.part, f11_1.part])
